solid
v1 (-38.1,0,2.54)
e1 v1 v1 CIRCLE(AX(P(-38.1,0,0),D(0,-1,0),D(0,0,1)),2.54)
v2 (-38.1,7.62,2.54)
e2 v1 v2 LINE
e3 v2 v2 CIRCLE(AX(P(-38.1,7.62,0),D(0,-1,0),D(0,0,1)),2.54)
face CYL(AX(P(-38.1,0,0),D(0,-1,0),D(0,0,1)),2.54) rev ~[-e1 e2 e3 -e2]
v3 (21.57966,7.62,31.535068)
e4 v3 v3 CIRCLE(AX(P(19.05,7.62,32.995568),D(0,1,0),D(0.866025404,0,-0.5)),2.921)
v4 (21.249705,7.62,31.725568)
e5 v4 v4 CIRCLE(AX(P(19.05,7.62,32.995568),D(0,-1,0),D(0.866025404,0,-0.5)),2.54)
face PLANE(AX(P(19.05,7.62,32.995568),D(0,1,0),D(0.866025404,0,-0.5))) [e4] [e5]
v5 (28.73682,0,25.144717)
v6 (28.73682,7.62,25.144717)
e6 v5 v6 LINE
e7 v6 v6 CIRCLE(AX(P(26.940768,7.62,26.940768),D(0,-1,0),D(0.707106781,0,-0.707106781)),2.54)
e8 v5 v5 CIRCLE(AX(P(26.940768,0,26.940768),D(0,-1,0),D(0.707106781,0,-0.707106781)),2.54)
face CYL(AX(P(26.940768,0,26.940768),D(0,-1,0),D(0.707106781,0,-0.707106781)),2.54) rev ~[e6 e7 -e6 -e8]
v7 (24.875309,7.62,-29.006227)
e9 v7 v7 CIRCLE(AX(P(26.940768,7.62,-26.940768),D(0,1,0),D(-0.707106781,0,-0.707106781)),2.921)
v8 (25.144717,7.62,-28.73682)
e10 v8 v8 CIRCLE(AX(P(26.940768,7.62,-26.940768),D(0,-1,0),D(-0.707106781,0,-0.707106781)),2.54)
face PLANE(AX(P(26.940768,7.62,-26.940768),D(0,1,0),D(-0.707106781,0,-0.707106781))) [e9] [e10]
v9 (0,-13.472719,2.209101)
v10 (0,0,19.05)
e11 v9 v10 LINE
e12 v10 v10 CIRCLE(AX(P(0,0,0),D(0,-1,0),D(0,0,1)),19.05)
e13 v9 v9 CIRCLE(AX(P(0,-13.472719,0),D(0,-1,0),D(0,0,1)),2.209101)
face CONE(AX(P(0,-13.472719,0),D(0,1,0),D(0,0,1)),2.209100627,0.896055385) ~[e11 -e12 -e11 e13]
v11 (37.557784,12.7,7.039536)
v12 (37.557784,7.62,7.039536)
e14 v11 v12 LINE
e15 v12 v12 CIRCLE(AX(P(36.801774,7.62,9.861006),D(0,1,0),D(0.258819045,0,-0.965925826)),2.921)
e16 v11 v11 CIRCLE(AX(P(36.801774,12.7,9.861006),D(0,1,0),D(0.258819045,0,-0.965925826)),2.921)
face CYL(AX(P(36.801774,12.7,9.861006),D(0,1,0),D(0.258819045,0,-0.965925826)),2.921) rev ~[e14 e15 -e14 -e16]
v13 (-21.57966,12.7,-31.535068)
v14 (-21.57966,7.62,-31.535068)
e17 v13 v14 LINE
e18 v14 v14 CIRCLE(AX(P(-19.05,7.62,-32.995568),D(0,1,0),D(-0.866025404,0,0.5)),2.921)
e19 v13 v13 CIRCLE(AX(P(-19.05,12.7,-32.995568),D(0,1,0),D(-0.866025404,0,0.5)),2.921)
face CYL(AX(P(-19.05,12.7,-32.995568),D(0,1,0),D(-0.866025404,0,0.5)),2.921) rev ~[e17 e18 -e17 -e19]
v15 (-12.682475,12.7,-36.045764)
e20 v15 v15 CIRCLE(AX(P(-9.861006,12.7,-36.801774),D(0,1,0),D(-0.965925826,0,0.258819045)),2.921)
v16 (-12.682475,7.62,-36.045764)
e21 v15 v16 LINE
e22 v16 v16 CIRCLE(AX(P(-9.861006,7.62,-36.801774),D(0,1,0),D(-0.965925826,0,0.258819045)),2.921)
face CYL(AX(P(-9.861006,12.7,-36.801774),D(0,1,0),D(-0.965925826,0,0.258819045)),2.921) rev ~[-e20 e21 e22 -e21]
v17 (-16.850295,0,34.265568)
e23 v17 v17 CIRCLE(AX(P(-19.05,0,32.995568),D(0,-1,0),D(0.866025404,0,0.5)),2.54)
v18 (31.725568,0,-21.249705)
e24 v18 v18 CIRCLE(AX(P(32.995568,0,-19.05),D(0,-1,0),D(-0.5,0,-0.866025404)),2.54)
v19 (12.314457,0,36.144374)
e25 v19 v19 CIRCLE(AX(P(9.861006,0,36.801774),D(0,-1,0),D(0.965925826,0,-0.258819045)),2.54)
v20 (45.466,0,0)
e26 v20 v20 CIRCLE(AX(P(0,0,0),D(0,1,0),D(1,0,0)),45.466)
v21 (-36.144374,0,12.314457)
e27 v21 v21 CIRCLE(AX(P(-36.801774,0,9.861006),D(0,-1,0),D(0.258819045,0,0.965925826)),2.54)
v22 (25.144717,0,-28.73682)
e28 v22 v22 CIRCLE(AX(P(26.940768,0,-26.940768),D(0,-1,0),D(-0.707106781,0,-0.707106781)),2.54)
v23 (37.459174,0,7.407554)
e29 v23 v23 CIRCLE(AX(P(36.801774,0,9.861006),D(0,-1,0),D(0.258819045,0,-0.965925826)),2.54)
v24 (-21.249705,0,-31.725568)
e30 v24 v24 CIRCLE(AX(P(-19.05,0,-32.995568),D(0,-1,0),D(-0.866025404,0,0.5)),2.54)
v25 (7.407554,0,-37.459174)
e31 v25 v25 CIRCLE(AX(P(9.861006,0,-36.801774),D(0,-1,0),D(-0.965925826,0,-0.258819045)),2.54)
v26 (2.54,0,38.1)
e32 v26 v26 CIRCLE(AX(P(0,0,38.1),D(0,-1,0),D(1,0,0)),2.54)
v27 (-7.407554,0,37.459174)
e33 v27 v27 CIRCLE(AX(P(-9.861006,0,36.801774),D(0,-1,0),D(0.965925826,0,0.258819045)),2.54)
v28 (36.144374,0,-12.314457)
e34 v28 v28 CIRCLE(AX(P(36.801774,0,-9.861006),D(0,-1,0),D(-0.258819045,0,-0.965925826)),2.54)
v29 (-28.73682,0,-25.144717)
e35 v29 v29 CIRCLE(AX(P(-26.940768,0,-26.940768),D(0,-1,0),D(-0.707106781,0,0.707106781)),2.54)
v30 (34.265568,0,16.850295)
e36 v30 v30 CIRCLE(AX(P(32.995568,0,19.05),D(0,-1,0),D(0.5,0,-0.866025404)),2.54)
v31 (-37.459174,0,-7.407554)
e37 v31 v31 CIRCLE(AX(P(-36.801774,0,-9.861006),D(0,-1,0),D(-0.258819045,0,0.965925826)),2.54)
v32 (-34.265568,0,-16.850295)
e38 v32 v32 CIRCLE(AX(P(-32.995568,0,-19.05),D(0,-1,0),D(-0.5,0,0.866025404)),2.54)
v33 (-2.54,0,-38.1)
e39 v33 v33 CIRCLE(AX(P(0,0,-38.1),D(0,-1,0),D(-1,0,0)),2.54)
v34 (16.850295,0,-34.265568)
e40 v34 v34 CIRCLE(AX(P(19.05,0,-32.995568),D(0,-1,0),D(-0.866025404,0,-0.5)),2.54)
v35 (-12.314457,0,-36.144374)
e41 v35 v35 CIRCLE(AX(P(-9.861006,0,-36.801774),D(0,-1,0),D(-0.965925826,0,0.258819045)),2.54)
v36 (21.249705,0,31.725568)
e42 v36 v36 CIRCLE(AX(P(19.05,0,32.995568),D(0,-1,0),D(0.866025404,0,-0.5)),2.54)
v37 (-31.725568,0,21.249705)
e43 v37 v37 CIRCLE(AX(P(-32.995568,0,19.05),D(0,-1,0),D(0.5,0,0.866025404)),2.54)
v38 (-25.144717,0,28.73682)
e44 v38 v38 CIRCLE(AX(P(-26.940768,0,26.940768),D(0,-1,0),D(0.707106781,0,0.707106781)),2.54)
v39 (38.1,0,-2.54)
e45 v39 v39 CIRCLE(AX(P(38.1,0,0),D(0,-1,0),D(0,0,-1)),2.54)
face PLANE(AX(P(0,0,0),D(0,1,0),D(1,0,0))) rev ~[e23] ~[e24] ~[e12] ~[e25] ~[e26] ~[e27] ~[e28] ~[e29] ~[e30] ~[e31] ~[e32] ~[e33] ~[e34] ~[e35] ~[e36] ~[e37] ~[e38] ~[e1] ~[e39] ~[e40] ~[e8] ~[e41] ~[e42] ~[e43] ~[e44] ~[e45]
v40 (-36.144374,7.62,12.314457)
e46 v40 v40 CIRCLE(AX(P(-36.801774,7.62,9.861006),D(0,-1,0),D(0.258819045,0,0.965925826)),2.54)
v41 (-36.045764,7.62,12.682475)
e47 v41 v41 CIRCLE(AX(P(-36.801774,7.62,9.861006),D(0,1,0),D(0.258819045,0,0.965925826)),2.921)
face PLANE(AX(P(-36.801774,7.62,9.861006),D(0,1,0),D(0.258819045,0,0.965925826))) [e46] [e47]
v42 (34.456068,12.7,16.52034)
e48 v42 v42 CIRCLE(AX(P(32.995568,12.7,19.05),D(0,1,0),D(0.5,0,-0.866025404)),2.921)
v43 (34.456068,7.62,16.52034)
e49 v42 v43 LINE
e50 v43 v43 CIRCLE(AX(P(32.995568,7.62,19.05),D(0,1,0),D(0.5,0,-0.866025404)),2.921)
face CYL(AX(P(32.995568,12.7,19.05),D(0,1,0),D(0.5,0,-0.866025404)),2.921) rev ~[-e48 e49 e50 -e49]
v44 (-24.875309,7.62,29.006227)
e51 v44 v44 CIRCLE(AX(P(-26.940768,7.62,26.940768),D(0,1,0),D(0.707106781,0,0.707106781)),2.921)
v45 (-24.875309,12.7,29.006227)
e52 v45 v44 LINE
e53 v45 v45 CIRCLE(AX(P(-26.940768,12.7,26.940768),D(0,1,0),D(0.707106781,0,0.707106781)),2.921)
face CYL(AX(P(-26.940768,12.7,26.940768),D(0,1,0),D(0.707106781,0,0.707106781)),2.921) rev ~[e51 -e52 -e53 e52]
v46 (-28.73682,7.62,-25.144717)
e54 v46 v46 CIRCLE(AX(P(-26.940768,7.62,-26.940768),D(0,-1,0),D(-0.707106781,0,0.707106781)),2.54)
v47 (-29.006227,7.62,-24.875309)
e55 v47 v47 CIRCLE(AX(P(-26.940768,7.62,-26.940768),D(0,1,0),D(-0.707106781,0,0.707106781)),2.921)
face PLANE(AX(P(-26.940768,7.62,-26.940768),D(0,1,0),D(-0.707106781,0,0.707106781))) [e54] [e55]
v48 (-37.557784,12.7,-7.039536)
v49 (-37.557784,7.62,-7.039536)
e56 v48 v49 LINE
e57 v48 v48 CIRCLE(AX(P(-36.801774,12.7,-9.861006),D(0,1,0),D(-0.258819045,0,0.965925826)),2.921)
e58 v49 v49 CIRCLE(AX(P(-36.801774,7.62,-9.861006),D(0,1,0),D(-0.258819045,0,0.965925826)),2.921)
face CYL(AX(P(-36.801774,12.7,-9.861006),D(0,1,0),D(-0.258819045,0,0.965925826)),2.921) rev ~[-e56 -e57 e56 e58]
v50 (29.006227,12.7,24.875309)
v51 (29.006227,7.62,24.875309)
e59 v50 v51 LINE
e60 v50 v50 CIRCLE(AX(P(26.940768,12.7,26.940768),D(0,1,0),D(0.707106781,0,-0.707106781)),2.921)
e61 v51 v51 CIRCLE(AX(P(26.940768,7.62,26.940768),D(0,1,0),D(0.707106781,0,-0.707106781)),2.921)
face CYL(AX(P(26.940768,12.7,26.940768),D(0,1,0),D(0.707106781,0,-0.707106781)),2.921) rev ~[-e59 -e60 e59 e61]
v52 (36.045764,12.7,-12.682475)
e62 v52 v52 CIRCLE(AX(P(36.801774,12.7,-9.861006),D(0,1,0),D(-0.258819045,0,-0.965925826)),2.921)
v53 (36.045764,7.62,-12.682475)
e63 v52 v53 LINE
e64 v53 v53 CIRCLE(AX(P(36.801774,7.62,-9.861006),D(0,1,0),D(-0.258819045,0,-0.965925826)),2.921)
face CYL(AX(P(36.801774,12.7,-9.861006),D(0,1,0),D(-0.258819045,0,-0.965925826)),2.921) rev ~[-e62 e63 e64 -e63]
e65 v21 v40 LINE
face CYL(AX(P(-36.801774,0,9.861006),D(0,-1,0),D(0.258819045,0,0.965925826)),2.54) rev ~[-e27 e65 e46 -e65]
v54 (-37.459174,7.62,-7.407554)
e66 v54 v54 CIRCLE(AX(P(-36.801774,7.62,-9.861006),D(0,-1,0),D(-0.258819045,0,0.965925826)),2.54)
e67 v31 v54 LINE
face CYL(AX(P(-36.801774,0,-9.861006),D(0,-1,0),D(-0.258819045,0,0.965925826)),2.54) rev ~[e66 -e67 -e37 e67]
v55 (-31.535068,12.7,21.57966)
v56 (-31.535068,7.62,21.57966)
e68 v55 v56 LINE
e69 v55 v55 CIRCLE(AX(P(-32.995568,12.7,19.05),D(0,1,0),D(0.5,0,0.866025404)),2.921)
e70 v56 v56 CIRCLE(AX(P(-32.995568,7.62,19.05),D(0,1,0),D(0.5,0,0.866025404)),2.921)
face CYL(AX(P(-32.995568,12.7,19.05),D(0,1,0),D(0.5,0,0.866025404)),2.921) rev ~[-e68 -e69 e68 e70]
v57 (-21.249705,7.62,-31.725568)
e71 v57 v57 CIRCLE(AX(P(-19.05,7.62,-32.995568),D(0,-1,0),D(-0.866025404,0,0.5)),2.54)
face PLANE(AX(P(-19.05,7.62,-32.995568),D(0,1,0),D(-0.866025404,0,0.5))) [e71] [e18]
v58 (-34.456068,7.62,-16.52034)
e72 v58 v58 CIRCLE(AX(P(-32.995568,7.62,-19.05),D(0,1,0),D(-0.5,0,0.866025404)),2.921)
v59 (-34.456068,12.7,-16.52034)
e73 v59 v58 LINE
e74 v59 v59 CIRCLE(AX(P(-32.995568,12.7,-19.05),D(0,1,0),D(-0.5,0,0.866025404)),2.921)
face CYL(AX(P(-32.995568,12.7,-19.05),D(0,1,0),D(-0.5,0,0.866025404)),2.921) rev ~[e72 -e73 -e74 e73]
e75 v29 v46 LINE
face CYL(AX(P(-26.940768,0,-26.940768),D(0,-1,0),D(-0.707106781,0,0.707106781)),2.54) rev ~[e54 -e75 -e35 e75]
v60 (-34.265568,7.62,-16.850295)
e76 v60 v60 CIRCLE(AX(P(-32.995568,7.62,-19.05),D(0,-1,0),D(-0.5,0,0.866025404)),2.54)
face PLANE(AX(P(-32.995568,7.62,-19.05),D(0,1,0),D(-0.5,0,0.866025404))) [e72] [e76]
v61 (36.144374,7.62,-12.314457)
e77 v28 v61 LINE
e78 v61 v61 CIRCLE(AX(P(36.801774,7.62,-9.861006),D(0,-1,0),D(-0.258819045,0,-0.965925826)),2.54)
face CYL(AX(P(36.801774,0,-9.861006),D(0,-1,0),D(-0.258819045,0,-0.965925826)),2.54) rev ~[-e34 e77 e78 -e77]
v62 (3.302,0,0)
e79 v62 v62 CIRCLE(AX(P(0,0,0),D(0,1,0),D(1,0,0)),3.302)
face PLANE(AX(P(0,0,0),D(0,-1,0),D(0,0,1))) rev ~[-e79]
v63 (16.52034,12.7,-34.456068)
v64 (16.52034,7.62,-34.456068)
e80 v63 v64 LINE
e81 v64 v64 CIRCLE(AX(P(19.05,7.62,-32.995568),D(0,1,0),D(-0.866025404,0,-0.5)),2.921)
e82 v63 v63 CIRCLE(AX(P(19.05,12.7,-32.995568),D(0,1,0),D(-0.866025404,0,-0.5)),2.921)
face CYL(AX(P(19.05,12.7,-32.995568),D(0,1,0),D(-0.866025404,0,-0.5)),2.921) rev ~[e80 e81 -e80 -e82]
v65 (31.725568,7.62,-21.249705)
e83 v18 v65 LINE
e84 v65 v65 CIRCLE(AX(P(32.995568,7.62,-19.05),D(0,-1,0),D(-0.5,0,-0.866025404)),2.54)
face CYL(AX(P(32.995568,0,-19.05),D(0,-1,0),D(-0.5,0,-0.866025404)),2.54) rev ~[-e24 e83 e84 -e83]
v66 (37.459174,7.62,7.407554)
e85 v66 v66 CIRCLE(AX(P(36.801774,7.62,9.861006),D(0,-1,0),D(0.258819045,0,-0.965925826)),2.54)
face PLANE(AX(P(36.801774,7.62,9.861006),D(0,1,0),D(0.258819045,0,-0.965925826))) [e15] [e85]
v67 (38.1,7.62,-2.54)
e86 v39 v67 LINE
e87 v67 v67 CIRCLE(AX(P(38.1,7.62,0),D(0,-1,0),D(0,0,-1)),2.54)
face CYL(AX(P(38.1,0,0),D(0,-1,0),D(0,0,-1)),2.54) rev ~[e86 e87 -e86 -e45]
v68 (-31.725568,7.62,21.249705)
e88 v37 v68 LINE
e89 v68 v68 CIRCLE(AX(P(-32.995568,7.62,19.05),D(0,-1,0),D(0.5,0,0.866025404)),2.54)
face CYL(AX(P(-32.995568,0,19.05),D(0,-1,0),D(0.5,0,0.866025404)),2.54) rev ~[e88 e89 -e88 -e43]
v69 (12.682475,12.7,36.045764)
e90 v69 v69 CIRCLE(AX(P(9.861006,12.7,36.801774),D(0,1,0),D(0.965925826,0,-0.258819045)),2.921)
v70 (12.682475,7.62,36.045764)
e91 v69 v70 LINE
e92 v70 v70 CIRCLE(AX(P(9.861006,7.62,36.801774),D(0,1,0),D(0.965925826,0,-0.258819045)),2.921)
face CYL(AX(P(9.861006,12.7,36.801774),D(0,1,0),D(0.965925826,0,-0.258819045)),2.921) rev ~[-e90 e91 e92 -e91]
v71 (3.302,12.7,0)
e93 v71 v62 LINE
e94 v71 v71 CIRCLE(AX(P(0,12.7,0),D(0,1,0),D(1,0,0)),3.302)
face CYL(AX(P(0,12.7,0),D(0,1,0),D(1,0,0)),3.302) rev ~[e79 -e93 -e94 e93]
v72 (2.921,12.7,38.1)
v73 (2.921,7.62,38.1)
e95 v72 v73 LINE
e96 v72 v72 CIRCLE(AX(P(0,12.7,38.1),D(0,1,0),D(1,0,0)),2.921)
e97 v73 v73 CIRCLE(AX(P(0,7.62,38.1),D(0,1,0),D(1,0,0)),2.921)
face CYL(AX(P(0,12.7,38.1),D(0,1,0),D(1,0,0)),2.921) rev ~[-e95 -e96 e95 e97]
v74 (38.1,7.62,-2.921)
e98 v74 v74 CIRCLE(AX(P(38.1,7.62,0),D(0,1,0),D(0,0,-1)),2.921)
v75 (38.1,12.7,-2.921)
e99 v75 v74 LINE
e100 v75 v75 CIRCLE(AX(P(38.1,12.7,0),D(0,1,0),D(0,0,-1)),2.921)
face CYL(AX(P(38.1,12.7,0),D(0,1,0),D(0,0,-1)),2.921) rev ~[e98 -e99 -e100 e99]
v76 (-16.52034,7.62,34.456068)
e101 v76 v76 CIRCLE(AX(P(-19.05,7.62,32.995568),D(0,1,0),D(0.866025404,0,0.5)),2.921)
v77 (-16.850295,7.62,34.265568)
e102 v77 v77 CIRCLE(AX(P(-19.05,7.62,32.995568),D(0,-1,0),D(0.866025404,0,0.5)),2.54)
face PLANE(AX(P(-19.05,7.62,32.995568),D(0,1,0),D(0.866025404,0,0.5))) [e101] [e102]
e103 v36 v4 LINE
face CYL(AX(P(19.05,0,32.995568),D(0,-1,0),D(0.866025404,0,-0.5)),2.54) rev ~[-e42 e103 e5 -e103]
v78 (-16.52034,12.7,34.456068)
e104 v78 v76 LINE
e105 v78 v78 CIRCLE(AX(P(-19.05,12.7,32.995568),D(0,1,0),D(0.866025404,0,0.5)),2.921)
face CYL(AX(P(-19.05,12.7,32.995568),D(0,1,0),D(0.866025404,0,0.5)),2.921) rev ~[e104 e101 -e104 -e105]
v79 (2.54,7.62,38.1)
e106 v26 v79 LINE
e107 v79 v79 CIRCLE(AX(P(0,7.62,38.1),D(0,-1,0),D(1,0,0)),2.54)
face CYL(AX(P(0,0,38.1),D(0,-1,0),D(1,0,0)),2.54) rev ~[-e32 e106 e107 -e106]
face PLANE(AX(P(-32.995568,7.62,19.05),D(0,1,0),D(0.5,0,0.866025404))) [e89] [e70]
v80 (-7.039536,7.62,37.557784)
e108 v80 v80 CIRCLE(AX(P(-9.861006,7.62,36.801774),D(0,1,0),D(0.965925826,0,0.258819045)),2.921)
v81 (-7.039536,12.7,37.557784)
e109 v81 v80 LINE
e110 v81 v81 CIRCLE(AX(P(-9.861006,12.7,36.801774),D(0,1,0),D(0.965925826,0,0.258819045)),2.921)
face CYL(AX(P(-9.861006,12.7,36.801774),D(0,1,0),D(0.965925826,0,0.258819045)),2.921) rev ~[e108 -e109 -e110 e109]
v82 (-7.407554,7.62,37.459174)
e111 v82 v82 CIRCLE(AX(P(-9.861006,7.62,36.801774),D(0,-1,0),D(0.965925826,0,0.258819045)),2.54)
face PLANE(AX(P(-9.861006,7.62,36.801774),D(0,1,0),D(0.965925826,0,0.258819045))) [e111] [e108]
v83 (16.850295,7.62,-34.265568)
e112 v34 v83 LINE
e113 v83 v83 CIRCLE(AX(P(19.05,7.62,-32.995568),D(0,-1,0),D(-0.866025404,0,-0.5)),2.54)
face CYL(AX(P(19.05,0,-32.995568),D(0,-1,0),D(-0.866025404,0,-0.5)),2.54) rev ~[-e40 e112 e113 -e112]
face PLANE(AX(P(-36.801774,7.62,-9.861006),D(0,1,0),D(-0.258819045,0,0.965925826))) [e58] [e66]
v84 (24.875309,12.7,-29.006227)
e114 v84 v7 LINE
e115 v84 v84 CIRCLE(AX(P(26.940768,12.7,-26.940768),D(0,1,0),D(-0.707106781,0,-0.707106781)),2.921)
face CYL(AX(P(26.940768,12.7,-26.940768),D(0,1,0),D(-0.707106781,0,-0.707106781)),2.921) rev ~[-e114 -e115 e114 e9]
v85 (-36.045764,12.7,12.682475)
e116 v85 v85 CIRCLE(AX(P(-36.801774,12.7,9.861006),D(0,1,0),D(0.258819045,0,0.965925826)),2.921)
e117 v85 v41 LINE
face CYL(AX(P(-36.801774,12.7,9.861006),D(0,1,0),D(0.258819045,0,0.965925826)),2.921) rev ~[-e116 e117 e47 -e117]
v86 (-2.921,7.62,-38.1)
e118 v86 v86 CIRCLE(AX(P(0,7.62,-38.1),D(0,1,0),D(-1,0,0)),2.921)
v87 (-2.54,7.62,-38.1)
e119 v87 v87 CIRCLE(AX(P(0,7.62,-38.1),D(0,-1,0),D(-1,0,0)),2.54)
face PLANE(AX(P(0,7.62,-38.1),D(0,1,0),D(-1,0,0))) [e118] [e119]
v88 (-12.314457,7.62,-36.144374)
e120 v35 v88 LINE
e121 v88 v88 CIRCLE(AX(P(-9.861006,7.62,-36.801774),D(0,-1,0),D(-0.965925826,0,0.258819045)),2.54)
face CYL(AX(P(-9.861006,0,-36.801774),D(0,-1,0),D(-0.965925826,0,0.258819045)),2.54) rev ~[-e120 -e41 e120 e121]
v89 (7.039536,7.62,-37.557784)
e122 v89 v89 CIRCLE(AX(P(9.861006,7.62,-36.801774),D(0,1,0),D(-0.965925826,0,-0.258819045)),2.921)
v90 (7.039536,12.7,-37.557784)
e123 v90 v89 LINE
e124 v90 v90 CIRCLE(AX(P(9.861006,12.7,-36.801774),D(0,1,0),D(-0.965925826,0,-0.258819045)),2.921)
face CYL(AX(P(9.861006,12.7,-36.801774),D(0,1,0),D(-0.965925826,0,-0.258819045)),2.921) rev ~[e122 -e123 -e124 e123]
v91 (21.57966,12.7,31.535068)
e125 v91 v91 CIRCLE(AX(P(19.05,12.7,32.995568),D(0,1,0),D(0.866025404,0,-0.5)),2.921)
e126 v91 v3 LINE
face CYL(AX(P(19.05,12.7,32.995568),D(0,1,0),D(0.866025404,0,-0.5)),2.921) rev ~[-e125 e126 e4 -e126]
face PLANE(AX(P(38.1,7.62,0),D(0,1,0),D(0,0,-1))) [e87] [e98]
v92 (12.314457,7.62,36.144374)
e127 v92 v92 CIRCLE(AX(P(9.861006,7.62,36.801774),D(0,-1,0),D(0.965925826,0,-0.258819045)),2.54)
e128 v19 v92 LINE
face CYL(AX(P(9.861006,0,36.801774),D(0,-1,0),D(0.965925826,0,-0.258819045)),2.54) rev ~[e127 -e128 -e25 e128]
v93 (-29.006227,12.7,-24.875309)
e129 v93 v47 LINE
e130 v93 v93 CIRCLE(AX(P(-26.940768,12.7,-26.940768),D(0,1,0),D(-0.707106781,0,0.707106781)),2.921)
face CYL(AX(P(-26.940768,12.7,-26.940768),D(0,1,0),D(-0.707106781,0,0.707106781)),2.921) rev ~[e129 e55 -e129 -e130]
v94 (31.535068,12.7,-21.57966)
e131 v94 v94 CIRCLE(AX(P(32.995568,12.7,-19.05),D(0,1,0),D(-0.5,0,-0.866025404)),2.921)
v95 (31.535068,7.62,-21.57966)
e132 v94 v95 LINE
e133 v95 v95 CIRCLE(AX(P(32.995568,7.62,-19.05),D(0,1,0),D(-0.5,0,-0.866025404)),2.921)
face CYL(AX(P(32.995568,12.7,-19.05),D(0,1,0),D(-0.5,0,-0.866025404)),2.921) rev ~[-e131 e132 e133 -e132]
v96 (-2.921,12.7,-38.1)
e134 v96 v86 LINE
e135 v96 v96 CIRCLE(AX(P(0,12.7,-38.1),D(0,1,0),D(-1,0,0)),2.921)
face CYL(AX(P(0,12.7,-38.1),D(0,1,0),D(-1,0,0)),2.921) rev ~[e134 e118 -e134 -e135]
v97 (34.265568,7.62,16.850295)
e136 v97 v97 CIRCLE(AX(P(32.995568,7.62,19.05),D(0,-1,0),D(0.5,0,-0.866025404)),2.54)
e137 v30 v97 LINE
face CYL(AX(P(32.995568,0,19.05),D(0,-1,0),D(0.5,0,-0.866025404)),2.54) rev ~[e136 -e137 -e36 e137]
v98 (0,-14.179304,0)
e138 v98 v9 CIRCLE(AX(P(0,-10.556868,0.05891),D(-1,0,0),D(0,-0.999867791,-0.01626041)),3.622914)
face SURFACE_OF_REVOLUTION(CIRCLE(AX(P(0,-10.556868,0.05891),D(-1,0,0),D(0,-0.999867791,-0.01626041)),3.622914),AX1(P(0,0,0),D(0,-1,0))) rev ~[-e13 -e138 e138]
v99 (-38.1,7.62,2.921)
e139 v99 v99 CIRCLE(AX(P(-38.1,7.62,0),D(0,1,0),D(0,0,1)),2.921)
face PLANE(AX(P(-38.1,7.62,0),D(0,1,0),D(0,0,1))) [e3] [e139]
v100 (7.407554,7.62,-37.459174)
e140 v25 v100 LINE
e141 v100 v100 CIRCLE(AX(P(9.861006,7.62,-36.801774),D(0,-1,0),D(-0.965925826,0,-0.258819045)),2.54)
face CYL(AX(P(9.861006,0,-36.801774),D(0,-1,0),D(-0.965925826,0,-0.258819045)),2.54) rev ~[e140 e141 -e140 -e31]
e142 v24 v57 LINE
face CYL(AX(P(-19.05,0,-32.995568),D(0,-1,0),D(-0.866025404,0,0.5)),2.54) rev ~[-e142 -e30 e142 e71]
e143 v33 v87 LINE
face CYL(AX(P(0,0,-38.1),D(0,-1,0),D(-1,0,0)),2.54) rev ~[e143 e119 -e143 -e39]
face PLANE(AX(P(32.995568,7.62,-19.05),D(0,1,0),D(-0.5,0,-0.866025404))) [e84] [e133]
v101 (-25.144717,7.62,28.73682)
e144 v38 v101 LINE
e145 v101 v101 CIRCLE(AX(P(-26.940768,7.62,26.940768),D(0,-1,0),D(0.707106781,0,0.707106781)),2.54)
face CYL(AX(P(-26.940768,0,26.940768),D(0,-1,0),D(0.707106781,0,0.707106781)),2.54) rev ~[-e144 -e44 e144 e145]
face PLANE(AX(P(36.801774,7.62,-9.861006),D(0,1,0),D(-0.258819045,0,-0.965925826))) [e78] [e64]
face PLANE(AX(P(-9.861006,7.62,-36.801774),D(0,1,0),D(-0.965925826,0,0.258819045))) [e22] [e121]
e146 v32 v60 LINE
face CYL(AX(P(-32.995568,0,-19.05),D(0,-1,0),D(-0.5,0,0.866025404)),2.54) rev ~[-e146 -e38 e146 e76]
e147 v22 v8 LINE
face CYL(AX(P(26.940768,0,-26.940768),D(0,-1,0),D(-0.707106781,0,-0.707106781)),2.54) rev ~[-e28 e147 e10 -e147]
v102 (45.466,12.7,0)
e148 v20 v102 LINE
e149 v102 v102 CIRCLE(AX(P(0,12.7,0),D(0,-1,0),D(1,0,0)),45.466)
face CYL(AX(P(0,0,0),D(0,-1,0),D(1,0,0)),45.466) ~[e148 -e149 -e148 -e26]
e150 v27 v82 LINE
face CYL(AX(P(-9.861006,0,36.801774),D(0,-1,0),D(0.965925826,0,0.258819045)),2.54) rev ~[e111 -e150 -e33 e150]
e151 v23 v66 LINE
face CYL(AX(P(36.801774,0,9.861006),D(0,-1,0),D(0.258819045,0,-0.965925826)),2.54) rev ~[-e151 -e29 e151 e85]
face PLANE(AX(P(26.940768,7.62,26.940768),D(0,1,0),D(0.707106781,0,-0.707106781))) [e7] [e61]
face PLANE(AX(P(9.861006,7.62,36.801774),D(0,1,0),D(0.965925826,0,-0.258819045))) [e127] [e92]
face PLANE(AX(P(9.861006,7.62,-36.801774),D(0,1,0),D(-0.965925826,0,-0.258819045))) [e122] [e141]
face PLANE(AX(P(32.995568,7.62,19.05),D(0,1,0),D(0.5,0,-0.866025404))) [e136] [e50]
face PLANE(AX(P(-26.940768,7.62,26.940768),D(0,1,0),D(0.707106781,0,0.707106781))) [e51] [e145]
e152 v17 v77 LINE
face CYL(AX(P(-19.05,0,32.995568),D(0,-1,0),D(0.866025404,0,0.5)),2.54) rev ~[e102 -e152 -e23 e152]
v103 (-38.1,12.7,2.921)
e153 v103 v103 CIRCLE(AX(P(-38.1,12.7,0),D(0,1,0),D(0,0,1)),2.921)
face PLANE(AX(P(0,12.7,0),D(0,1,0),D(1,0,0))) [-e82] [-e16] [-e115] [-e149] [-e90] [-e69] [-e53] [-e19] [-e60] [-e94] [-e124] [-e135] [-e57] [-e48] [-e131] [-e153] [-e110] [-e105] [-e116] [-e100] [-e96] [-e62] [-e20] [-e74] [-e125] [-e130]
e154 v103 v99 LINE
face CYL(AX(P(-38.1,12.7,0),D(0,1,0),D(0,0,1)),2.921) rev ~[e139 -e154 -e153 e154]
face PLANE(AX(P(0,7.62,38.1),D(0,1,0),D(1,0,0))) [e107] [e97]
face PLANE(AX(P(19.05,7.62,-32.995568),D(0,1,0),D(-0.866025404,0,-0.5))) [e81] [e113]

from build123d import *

# Parameters (mm, degrees)
SKETCH1_R                                        = 45.466
BOSS_EXTRUDE1_DEPTH                              = 25.4
CSK_FOR_1_4_FLAT_HEAD_MACHINE_SCREW1_D           = 6.5278
CSK_FOR_1_4_FLAT_HEAD_MACHINE_SCREW1_DEPTH       = 25.4
CSK_FOR_1_4_FLAT_HEAD_MACHINE_SCREW1_CSINK_D     = 12.8778
CSK_FOR_1_4_FLAT_HEAD_MACHINE_SCREW1_CSINK_ANGLE = 82
CSK_FOR_1_4_FLAT_HEAD_MACHINE_SCREW1_TIP         = 1.961148974
SKETCH8_R                                        = 46.955588052
CUT_EXTRUDE2_DEPTH                               = 12.7
SKETCH4_R                                        = 2.54
CUT_EXTRUDE3_DEPTH                               = 66.540859866
SKETCH9_R                                        = 2.921
CUT_EXTRUDE4_DEPTH                               = 5.08
SKETCH11_R                                       = 3.302
CUT_EXTRUDE5_DEPTH                               = 66.540859866
CIRPATTERN2_COUNT                                = 24
CIRPATTERN3_COUNT                                = 24


with BuildPart() as part:
    # Sketch1 → Boss-Extrude1 (new body)
    with BuildSketch(Plane(origin=(0, 0, 0), x_dir=(1, 0, 0), z_dir=(0, 1, 0))):
        Circle(SKETCH1_R)
    extrude(amount=BOSS_EXTRUDE1_DEPTH)

    # CSK for 1/4 Flat Head Machine Screw1
    with Locations(Plane(origin=(0, 25.4, 0), x_dir=(1, 0, 0), z_dir=(0, 1, 0))):
        with Locations((0, 0)):
            CounterSinkHole(CSK_FOR_1_4_FLAT_HEAD_MACHINE_SCREW1_D / 2, CSK_FOR_1_4_FLAT_HEAD_MACHINE_SCREW1_CSINK_D / 2, depth=CSK_FOR_1_4_FLAT_HEAD_MACHINE_SCREW1_DEPTH, counter_sink_angle=CSK_FOR_1_4_FLAT_HEAD_MACHINE_SCREW1_CSINK_ANGLE)
            with Locations((0, 0, -(CSK_FOR_1_4_FLAT_HEAD_MACHINE_SCREW1_DEPTH + CSK_FOR_1_4_FLAT_HEAD_MACHINE_SCREW1_TIP / 2))):  # 118° drill point
                Cone(0, CSK_FOR_1_4_FLAT_HEAD_MACHINE_SCREW1_D / 2, CSK_FOR_1_4_FLAT_HEAD_MACHINE_SCREW1_TIP, mode=Mode.SUBTRACT)

    # Sketch8 → Cut-Extrude2 (cut)
    with BuildSketch(Plane(origin=(0, 25.4, 0), x_dir=(1, 0, 0), z_dir=(0, 1, 0))):
        Circle(SKETCH8_R)
    extrude(amount=-CUT_EXTRUDE2_DEPTH, mode=Mode.SUBTRACT)

    # Sketch4 → Cut-Extrude3 (cut, through all)
    with BuildSketch(Plane.XZ):
        with Locations((0, 38.1)):
            Circle(SKETCH4_R)
    cut_extrude3 = extrude(amount=-CUT_EXTRUDE3_DEPTH, mode=Mode.SUBTRACT)

    # Sketch9 → Cut-Extrude4 (cut)
    with BuildSketch(Plane(origin=(0, 12.7, 0), x_dir=(1, 0, 0), z_dir=(0, 1, 0))):
        with Locations((0, -38.1)):
            Circle(SKETCH9_R)
    cut_extrude4 = extrude(amount=-CUT_EXTRUDE4_DEPTH, mode=Mode.SUBTRACT)

    # Sketch11 → Cut-Extrude5 (cut, through all)
    with BuildSketch(Plane(origin=(0, 12.7, 0), x_dir=(1, 0, 0), z_dir=(0, 1, 0))):
        Circle(SKETCH11_R)
    extrude(amount=-CUT_EXTRUDE5_DEPTH, mode=Mode.SUBTRACT)

    # CirPattern2: Cut-Extrude3 ×24 about axis
    cirpattern2_axis = Axis((0, 12.7, 0), (0, 1, 0))
    for i in range(1, CIRPATTERN2_COUNT):
        add(cut_extrude3.rotate(cirpattern2_axis, i * 360 / CIRPATTERN2_COUNT), mode=Mode.SUBTRACT)

    # CirPattern3: Cut-Extrude4 ×24 about axis
    cirpattern3_axis = Axis((0, 12.7, 0), (0, 1, 0))
    for i in range(1, CIRPATTERN3_COUNT):
        add(cut_extrude4.rotate(cirpattern3_axis, i * 360 / CIRPATTERN3_COUNT), mode=Mode.SUBTRACT)

    # Sketch13 → Revolve1 (revolve)
    with BuildSketch(Plane.YZ):
        with BuildLine():
            Line((0, 0), (-14.179303561, 0))
            ThreePointArc((-14.179303561, 0), (-14.007568062, 1.162621435), (-13.472719499, 2.209100627))
            Line((-13.472719499, 2.209100627), (0, 19.05))
            Line((0, 19.05), (0, 0))
        make_face()
    revolve(axis=Axis((0, 0, 0), (0, -1, 0)))


solid = part.part
